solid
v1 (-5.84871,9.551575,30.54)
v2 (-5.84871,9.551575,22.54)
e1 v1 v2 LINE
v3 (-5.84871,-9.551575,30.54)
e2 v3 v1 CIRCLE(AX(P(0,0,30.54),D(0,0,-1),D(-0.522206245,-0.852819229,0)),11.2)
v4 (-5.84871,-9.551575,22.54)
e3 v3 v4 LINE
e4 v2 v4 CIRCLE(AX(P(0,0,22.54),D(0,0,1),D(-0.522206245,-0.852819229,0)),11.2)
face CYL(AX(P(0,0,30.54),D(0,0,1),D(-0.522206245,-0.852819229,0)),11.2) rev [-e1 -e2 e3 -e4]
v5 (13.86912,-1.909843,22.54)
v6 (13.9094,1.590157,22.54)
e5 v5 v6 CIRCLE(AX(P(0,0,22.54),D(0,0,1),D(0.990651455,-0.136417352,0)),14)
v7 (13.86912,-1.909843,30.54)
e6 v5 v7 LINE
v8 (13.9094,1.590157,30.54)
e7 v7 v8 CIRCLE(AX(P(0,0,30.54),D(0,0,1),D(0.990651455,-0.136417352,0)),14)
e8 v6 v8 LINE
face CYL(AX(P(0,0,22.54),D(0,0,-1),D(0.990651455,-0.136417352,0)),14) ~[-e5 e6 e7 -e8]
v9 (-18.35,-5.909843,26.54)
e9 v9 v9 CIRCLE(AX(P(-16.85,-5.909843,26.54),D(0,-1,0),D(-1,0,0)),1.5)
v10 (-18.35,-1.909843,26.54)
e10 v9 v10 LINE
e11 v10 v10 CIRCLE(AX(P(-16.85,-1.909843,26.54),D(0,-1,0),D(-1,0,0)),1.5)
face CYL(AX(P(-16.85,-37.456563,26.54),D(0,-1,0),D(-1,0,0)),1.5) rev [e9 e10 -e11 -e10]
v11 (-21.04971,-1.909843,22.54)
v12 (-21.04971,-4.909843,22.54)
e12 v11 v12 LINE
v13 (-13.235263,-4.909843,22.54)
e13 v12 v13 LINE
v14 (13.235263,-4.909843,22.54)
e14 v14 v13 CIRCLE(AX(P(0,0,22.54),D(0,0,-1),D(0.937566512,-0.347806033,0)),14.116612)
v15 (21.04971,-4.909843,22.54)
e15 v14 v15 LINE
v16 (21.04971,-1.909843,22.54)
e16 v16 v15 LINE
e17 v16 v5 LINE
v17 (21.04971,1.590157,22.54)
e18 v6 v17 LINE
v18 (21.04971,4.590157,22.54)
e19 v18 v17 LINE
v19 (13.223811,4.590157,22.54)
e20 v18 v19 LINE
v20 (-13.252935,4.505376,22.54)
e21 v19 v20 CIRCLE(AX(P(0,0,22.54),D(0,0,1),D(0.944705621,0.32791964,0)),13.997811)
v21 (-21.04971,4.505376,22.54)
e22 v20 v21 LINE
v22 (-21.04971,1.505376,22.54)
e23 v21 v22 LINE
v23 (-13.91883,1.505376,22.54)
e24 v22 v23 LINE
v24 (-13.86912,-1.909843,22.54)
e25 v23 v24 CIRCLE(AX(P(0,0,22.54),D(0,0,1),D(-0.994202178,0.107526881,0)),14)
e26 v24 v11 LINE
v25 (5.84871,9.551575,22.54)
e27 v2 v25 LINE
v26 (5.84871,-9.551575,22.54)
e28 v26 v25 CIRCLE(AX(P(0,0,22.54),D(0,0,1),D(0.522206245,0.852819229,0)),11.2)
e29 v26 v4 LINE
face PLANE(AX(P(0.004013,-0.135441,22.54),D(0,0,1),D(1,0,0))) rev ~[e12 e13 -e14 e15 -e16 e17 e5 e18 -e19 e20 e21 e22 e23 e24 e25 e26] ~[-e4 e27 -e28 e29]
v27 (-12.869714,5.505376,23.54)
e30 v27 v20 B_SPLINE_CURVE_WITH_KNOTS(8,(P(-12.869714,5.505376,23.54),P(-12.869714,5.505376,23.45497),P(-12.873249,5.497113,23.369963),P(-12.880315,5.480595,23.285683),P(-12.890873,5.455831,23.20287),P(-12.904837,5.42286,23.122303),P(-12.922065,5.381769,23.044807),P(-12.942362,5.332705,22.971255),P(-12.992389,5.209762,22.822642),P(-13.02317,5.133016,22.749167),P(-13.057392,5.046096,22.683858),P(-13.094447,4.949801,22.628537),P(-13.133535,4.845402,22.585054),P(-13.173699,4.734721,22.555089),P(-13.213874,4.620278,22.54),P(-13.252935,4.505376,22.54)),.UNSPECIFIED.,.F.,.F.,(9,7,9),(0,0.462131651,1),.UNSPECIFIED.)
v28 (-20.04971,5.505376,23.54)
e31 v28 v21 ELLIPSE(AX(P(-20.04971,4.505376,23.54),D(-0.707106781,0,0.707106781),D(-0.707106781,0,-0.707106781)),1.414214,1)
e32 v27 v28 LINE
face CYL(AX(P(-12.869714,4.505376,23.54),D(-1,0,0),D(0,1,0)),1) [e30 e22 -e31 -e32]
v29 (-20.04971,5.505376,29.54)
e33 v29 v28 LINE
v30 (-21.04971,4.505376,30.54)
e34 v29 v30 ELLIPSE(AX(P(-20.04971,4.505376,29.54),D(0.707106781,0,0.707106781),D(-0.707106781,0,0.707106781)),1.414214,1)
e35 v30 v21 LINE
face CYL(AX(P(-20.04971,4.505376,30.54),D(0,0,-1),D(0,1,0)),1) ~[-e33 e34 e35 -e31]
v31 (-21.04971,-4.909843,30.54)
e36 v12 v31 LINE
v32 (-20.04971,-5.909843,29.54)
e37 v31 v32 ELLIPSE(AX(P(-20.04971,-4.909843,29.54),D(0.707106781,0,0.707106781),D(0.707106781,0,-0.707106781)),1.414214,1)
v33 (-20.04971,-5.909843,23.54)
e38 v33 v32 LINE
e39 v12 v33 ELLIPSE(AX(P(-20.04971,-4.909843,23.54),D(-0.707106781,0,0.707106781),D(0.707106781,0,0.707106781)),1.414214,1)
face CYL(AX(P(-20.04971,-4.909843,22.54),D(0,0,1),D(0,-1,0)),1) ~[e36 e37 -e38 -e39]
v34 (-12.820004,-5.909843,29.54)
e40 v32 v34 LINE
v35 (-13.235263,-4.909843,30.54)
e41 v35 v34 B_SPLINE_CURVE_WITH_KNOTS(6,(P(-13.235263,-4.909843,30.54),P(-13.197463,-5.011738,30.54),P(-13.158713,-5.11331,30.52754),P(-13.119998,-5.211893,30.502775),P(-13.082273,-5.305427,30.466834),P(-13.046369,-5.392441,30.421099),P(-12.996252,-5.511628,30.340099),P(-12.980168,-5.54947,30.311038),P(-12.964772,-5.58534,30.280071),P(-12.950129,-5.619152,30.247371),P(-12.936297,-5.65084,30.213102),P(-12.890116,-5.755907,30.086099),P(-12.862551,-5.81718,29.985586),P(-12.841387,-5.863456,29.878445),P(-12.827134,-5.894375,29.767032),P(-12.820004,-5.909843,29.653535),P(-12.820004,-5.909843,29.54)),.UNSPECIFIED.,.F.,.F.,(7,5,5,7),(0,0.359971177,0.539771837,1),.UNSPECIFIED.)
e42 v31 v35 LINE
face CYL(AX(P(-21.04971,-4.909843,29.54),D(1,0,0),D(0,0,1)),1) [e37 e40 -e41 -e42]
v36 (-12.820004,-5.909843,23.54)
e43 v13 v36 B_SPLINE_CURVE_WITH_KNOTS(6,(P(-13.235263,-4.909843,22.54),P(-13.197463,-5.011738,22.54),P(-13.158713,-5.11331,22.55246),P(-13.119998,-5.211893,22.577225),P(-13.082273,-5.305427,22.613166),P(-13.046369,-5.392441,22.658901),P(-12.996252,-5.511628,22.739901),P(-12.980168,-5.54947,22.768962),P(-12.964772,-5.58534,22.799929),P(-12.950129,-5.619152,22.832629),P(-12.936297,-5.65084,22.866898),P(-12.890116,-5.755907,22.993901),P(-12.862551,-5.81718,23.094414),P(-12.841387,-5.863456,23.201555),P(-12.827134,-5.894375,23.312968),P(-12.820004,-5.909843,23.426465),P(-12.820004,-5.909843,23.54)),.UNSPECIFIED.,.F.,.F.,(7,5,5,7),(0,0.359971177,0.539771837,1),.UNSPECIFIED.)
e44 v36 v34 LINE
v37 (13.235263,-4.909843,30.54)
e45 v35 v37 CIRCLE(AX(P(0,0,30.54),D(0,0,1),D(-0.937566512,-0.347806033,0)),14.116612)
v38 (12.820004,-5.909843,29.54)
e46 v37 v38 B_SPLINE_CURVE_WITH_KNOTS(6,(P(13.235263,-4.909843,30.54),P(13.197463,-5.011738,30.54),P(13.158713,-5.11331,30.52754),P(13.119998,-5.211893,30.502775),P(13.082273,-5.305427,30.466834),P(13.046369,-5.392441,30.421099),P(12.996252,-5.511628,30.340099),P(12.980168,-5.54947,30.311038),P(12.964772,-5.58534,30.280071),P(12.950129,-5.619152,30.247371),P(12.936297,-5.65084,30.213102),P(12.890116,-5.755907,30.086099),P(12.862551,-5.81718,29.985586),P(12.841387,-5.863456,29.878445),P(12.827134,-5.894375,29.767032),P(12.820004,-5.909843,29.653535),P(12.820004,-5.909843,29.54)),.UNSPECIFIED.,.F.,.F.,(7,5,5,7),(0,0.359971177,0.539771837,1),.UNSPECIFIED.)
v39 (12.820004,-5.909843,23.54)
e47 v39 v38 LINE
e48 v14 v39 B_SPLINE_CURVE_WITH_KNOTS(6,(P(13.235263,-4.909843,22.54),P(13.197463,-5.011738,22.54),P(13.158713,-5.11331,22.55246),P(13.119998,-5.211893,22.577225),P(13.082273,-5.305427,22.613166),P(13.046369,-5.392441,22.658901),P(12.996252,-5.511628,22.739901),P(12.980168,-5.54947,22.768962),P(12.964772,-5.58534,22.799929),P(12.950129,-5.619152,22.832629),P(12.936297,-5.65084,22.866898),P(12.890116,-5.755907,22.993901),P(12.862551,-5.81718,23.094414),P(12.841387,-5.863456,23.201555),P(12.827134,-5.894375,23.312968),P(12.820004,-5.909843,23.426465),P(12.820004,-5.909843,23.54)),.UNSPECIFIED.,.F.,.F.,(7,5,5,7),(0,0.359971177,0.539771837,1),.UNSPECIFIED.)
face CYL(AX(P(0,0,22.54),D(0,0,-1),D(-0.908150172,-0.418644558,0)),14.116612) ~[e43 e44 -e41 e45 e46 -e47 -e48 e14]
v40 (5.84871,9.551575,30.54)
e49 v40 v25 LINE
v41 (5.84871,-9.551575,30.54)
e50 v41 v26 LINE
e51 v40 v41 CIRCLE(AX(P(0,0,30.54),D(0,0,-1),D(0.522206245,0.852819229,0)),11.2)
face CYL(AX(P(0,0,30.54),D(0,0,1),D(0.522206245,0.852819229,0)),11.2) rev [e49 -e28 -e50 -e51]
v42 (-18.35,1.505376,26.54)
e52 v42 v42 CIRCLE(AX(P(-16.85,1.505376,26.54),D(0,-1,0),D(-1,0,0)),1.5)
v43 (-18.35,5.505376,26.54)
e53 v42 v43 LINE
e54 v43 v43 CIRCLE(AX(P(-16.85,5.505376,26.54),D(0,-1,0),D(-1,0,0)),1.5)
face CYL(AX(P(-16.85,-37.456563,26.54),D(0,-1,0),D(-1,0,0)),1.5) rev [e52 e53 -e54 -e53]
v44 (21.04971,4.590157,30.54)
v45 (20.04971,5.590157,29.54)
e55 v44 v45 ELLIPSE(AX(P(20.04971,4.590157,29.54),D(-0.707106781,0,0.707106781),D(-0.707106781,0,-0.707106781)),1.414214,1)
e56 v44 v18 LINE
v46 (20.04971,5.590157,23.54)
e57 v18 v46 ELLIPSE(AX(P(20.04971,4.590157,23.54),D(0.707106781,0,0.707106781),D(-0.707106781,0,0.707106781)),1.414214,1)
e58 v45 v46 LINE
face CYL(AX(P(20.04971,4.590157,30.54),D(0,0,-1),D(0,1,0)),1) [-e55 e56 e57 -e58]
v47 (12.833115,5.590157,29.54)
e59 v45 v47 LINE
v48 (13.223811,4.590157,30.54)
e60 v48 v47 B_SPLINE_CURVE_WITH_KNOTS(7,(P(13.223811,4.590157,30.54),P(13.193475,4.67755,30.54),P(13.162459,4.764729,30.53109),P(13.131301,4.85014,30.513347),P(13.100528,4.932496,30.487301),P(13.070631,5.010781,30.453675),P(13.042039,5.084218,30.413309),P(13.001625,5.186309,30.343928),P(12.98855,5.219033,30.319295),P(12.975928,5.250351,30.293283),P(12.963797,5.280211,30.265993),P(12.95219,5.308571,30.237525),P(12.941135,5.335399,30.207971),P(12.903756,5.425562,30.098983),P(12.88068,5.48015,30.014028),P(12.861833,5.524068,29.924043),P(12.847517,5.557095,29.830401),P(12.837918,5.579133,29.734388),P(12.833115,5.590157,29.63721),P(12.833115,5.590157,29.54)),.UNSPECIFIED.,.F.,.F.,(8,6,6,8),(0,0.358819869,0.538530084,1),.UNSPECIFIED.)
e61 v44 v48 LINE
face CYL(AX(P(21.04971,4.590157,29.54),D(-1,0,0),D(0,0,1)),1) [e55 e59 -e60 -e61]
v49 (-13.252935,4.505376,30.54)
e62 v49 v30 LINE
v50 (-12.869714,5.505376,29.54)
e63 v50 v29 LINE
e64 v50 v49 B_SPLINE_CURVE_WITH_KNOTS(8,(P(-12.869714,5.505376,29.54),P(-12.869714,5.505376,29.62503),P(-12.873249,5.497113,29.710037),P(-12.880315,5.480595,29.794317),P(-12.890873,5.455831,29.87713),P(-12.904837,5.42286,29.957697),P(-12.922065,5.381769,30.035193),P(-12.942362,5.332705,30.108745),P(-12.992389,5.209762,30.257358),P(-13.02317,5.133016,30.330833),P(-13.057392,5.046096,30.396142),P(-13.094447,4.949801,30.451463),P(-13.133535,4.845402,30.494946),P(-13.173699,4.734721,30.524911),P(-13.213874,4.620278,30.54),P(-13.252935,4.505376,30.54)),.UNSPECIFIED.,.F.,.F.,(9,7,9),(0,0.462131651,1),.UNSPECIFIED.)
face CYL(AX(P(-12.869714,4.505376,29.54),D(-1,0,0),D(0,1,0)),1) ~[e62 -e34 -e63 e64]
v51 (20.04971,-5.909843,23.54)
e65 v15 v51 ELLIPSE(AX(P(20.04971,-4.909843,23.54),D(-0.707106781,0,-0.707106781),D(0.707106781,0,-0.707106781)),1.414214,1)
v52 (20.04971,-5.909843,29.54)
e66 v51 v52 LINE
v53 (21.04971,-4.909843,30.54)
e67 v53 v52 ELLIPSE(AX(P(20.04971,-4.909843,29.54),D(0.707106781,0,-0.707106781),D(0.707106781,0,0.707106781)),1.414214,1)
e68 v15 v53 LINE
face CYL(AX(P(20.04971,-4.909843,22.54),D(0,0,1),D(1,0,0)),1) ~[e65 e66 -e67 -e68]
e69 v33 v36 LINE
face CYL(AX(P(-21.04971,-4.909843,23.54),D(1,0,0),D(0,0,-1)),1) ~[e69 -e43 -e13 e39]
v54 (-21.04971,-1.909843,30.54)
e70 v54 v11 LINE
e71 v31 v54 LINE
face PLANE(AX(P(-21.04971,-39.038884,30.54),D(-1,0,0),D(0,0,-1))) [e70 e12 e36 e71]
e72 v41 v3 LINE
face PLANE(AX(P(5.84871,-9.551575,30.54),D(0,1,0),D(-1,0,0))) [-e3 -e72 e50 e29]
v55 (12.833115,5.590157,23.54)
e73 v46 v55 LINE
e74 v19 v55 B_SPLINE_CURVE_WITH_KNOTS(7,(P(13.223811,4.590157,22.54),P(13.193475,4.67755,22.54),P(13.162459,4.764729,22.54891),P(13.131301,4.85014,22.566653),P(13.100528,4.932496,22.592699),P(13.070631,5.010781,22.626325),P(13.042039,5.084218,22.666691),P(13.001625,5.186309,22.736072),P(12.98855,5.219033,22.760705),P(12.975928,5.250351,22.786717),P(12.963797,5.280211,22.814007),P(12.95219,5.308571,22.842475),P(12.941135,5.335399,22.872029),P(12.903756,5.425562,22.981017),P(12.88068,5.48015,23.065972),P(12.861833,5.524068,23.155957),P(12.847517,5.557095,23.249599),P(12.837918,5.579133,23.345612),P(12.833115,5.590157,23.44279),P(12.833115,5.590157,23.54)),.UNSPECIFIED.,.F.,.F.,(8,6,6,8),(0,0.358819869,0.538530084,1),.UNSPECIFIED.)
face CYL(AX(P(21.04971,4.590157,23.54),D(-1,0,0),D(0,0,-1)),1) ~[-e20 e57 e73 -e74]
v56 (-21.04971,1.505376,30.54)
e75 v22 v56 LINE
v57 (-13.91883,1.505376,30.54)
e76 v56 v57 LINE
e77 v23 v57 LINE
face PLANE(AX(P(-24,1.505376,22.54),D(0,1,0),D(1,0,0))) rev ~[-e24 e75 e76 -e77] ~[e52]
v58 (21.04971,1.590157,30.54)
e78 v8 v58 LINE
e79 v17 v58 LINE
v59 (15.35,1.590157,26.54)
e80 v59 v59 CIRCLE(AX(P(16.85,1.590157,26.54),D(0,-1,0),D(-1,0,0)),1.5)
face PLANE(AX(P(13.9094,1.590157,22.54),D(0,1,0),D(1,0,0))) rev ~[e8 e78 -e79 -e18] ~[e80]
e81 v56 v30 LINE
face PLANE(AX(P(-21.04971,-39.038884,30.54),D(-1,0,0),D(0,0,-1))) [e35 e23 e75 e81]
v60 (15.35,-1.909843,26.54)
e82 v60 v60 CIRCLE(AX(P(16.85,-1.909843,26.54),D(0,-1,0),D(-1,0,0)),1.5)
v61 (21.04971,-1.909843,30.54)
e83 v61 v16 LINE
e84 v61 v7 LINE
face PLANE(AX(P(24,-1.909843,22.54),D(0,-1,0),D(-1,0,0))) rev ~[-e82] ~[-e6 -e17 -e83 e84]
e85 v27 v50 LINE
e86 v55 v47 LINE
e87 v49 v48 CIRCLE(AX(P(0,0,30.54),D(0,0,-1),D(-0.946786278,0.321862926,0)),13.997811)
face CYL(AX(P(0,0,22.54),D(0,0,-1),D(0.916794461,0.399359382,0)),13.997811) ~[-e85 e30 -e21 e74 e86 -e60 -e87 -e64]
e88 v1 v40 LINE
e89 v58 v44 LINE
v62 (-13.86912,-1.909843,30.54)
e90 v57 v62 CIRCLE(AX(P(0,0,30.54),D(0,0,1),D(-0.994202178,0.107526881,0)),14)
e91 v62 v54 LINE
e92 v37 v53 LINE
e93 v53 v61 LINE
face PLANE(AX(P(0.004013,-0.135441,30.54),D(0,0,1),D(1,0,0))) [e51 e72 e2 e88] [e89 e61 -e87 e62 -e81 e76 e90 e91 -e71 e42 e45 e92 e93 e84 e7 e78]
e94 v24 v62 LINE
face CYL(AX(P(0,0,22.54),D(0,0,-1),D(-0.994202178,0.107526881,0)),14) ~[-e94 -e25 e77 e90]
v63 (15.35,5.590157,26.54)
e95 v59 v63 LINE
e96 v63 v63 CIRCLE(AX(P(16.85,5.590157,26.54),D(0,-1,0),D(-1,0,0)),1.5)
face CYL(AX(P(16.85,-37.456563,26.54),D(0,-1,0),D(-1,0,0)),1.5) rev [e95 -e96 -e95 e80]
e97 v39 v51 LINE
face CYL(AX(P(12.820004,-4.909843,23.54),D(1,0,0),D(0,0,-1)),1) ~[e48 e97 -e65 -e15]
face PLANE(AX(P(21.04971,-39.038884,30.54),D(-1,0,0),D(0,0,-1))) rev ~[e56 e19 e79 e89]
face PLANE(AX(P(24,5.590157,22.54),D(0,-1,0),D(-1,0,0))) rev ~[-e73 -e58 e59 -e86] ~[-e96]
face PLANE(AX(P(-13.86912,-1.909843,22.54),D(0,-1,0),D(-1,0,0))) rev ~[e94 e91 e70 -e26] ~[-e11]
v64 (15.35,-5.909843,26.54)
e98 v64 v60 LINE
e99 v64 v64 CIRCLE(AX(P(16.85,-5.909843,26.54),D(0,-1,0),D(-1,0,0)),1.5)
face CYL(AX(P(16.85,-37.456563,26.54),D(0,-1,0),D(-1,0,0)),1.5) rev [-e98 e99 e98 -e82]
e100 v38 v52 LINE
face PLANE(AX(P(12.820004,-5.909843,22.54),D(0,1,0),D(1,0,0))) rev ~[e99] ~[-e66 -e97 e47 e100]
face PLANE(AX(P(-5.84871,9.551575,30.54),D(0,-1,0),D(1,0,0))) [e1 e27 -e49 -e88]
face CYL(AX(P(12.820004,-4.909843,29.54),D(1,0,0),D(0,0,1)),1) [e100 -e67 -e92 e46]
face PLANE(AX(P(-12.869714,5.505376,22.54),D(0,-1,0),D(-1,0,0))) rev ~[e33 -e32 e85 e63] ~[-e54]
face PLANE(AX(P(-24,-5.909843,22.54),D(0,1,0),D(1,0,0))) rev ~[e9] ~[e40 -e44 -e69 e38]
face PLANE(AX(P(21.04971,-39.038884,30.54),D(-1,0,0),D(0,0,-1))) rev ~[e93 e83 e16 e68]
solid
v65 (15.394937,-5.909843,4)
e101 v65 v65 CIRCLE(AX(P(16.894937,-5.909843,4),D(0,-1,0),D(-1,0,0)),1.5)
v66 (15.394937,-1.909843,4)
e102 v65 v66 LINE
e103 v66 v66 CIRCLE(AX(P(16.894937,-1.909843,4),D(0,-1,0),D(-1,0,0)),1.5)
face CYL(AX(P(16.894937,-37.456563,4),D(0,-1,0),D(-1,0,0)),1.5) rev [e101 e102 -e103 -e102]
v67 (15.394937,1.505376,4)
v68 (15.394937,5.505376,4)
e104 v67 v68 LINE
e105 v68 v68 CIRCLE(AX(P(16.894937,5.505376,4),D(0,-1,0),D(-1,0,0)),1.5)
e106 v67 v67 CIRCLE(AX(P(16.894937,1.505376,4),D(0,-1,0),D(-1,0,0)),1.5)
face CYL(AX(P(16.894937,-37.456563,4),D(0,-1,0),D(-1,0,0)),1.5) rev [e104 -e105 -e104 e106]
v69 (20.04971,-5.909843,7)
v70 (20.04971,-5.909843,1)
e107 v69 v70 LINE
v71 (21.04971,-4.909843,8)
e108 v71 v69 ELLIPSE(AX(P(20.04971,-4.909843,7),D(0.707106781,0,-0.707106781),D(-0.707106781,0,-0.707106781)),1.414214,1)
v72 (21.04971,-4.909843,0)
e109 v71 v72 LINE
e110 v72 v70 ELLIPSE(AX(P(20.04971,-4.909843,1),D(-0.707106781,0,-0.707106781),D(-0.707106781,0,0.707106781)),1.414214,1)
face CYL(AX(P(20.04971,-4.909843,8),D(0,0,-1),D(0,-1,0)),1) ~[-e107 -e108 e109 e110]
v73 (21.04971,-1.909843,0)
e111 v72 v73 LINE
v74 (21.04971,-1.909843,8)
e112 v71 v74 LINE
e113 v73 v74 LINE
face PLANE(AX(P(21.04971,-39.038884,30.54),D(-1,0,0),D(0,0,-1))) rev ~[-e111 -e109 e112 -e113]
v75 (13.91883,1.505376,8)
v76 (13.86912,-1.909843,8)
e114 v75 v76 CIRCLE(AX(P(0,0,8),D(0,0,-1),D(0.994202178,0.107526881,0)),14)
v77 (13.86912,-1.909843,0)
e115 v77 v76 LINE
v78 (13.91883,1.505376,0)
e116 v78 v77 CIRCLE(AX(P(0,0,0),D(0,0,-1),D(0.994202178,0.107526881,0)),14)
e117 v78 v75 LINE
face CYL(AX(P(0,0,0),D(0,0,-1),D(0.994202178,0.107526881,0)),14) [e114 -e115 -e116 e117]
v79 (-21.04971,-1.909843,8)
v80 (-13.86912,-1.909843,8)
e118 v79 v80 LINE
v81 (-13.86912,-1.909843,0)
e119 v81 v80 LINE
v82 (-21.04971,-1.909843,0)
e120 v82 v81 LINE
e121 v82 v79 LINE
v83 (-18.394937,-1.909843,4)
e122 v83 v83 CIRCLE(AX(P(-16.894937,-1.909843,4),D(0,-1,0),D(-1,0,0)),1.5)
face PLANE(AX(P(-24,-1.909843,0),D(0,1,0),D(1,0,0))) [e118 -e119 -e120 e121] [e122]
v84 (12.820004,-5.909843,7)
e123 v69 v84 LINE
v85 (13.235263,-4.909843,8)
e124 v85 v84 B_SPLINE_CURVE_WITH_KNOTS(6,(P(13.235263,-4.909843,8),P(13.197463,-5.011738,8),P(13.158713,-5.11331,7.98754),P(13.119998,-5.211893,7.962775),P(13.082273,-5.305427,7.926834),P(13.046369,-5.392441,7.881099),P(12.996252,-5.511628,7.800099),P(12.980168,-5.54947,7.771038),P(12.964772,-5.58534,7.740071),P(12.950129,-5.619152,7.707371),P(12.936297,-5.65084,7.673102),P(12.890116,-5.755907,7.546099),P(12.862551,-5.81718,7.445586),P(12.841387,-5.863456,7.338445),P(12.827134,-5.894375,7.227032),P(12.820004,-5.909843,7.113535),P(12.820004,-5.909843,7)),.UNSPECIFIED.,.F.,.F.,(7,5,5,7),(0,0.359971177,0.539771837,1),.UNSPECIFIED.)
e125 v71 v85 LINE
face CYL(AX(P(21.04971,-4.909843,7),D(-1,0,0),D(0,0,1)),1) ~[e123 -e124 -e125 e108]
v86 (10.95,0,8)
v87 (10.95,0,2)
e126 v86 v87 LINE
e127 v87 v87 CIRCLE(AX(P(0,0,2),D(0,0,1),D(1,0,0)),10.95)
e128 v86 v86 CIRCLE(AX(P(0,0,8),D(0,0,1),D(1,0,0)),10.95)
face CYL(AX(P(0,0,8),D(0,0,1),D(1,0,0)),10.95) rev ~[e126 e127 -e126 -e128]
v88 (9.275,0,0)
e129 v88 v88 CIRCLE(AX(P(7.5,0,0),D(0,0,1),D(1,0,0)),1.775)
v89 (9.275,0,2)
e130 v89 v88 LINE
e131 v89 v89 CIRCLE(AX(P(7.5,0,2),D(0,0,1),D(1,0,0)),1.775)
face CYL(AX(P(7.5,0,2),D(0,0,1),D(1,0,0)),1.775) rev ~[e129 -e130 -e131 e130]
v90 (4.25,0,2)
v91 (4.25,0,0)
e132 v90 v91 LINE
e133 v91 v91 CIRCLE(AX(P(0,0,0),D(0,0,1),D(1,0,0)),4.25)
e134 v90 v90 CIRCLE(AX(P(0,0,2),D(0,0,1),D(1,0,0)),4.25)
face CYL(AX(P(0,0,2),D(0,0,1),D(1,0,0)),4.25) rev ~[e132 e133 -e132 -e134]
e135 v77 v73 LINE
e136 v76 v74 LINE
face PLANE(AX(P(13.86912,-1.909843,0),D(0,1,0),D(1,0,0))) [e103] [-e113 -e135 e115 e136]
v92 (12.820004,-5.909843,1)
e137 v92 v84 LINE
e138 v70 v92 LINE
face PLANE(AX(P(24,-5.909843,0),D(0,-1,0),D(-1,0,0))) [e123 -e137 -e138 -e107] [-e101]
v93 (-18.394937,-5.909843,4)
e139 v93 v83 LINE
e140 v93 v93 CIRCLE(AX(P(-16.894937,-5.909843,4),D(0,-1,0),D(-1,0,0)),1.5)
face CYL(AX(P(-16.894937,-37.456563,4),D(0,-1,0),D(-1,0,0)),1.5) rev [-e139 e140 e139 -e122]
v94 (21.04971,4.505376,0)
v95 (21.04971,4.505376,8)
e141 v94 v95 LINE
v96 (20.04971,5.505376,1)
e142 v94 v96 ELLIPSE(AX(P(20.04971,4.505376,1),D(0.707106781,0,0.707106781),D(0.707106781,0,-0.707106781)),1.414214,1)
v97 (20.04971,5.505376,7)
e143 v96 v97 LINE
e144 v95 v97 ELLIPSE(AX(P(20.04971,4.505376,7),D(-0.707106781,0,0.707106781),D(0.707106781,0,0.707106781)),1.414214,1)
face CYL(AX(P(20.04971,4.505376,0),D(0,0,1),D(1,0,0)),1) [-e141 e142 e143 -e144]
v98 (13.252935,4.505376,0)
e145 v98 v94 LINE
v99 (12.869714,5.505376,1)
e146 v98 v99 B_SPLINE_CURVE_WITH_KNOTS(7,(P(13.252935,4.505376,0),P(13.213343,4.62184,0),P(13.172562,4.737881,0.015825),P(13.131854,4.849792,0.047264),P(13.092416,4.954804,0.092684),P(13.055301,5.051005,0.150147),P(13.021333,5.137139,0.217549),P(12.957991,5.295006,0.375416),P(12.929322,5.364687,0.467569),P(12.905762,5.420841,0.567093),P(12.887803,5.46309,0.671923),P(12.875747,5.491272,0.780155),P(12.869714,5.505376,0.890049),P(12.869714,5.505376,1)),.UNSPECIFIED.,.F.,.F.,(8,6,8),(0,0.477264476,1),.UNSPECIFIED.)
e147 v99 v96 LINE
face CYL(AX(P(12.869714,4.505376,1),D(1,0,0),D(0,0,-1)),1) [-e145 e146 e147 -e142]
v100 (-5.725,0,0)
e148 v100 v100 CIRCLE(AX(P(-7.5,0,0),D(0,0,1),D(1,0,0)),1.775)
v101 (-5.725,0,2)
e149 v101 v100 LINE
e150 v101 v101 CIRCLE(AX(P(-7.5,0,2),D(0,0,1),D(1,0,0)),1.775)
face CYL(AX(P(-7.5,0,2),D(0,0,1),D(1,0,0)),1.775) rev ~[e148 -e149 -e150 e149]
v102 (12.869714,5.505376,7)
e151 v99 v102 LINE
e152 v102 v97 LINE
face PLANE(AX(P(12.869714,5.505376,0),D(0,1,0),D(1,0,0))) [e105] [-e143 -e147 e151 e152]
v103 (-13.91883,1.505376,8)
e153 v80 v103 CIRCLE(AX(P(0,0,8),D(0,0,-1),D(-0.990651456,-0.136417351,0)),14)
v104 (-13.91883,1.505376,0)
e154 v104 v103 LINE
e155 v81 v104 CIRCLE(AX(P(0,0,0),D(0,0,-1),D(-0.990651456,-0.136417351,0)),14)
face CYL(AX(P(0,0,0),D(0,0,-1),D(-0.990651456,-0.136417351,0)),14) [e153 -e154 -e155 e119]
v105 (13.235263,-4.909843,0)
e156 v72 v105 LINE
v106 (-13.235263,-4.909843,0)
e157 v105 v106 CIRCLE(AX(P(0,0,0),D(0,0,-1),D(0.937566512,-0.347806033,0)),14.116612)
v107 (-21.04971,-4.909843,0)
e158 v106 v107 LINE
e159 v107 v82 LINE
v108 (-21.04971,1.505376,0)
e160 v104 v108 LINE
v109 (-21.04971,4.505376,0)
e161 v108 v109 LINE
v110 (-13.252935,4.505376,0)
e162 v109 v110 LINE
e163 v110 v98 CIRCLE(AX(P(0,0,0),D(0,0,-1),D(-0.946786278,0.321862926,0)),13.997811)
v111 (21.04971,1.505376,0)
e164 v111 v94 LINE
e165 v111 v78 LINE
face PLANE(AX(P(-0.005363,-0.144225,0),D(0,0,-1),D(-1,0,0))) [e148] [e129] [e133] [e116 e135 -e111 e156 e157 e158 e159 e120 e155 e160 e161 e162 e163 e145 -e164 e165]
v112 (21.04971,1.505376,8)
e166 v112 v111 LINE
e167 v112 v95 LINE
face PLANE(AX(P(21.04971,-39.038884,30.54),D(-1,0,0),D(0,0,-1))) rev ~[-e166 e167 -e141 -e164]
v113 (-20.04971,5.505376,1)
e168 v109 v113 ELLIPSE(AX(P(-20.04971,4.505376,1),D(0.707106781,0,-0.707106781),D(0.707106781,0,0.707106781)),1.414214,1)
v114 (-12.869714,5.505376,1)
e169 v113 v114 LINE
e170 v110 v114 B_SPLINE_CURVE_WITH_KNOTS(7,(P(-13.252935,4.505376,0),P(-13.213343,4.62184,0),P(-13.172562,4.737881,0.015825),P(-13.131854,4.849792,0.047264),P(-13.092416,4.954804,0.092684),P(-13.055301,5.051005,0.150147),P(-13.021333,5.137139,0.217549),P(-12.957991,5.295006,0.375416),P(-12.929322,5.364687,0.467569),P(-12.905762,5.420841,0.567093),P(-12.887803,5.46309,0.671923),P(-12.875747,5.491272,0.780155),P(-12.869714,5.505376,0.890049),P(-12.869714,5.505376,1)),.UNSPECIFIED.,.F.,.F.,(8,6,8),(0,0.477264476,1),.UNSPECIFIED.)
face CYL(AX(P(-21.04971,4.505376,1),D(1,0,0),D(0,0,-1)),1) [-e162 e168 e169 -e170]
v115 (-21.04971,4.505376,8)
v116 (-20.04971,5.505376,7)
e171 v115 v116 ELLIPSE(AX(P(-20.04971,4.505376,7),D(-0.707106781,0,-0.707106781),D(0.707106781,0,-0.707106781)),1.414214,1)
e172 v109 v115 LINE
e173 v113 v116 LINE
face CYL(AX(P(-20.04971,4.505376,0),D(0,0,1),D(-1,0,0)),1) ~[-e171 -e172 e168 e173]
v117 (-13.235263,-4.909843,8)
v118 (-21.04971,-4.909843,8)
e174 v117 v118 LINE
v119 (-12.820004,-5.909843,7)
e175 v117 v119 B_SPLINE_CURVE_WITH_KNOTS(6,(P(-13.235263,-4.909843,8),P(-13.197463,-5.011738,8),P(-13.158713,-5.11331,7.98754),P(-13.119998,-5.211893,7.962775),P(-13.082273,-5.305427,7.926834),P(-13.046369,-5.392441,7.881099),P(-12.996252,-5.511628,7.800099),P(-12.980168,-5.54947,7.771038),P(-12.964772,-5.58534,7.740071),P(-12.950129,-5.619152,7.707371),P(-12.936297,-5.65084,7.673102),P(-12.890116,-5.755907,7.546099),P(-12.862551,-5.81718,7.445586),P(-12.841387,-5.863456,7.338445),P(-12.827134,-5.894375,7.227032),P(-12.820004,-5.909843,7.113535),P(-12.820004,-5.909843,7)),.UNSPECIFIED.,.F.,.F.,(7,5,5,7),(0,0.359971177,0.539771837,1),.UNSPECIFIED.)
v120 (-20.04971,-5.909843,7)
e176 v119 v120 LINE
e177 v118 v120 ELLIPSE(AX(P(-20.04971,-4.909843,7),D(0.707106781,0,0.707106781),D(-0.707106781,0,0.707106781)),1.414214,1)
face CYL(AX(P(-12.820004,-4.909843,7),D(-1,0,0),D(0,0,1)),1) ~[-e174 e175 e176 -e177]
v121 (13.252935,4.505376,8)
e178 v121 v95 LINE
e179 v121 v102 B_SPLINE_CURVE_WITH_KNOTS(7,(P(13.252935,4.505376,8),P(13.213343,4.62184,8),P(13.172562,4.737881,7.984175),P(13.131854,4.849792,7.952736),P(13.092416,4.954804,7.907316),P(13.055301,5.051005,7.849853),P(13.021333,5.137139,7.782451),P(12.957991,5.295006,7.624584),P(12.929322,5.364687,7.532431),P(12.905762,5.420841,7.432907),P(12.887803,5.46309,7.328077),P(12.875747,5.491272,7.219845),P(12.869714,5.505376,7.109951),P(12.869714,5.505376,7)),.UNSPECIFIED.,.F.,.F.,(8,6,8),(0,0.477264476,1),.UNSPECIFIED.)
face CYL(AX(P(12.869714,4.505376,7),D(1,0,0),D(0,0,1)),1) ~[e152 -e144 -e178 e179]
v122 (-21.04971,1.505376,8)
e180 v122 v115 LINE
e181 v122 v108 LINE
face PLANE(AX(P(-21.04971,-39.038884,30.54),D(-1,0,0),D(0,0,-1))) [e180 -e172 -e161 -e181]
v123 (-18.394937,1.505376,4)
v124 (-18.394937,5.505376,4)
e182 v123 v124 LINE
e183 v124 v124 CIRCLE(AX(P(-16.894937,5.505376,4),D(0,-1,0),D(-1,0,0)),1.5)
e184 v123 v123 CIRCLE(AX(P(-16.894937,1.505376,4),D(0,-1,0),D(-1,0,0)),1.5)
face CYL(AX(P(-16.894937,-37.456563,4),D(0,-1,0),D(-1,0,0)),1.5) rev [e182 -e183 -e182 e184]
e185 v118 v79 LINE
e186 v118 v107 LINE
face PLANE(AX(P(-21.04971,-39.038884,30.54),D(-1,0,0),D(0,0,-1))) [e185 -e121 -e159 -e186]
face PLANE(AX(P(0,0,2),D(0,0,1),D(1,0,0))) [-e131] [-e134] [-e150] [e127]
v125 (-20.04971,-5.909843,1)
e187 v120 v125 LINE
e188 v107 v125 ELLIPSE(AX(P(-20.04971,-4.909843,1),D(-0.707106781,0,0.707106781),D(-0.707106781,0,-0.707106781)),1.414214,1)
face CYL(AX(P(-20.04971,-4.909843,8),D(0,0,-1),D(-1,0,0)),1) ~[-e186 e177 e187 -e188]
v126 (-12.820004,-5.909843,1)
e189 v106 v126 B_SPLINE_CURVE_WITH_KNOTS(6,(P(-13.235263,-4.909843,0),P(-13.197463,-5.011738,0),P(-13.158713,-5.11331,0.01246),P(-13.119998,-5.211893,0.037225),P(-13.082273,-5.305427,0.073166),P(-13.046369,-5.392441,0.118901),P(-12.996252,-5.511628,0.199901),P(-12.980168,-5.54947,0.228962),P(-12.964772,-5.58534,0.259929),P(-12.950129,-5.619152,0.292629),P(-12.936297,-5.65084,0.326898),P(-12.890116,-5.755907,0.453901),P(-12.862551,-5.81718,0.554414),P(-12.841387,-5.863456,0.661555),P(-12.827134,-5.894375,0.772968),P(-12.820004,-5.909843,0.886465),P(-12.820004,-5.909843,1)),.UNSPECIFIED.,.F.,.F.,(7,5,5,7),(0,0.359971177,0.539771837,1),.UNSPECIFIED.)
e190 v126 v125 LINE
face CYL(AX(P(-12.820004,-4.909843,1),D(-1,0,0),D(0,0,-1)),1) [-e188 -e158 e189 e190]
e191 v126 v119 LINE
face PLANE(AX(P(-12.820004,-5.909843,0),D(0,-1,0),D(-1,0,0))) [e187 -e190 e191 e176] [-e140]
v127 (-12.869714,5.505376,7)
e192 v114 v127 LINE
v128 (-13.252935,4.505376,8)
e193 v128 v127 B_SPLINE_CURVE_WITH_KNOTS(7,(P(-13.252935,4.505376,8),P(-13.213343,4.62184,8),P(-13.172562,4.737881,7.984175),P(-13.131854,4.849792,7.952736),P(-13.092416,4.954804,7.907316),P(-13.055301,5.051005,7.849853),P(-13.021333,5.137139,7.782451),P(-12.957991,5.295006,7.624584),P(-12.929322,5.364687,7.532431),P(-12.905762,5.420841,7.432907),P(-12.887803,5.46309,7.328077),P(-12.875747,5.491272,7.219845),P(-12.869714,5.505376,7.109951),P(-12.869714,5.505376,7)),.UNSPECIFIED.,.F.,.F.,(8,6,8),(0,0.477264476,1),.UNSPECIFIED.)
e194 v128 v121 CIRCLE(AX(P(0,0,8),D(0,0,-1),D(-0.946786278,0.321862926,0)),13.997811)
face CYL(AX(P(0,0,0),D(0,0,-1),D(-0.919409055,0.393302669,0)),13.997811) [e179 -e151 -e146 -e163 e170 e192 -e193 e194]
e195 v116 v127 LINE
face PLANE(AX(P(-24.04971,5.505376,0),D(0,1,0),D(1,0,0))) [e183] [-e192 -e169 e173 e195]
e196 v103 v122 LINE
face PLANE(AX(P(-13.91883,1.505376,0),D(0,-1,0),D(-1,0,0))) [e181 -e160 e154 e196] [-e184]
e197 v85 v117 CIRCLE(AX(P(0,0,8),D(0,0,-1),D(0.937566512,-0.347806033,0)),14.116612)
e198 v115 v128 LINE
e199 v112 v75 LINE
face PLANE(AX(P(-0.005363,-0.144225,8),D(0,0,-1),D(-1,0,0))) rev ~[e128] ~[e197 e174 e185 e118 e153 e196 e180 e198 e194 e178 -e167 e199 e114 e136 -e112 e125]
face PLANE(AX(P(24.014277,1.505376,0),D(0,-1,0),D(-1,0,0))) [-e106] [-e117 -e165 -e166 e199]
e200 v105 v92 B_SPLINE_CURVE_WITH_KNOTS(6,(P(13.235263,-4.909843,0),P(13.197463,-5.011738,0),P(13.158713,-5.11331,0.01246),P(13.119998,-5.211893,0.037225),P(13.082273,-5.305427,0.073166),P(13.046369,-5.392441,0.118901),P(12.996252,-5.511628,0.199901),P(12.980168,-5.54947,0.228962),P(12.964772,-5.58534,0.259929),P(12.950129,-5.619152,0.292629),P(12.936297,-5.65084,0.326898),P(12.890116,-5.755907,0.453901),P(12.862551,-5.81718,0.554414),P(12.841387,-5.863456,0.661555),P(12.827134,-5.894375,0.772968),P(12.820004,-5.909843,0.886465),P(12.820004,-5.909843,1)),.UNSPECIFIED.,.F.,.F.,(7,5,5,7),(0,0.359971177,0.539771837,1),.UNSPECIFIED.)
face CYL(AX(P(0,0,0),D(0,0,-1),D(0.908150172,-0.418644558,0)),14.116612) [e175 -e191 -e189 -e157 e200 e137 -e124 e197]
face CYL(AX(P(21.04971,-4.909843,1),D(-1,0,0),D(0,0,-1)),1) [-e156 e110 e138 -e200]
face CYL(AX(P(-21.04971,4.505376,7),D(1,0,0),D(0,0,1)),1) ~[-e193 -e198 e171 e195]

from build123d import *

# Parameters (mm, degrees)
SALIENTE_EXTRUIR1_DEPTH     = 8
CROQUIS2_R                  = 10.95
CORTAR_EXTRUIR1_DEPTH       = 6
CROQUIS3_R                  = 4.25
CROQUIS3_R_2                = 1.775
CORTAR_EXTRUIR2_DEPTH       = 3.5
SALIENTE_EXTRUIR3_DEPTH     = 8
CORTAR_EXTRUIR8_DEPTH       = 10
CORTAR_EXTRUIR9_DEPTH       = 44.54426019
CORTAR_EXTRUIR9_DEPTH_BACK  = 44.54426019
CROQUIS11_W                 = 3
CROQUIS11_H                 = 30.54
CORTAR_EXTRUIR10_DEPTH      = 42.961939121
CORTAR_EXTRUIR10_DEPTH_BACK = 42.961939121
CROQUIS8_R                  = 1.5
REDONDEO1_R                 = 1
REDONDEO2_R                 = 1


with BuildPart() as part:
    # Croquis1 → Saliente-Extruir1 (new body)
    with BuildSketch(Plane.XY):
        with BuildLine():
            Line((-13.918830485, 1.505376344), (-24.049710109, 1.505376344))
            Line((-24.049710109, 1.505376344), (-24.049710109, 5.505376344))
            Line((-24.049710109, 5.505376344), (-12.869714009, 5.505376344))
            ThreePointArc((-12.869714009, 5.505376344), (0, 13.997810806), (12.869714009, 5.505376344))
            Line((12.869714009, 5.505376344), (24.049710109, 5.505376344))
            Line((24.049710109, 5.505376344), (24.014276756, 1.505376344))
            Line((24.014276756, 1.505376344), (13.918830485, 1.505376344))
            ThreePointArc((13.918830485, 1.505376344), (13.998517204, -0.203754945), (13.869120376, -1.909842925))
            Line((13.869120376, -1.909842925), (24, -1.909842925))
            Line((24, -1.909842925), (24, -5.909842925))
            Line((24, -5.909842925), (12.8200039, -5.909842925))
            ThreePointArc((12.8200039, -5.909842925), (0, -14.11661232), (-12.8200039, -5.909842925))
            Line((-12.8200039, -5.909842925), (-24, -5.909842925))
            Line((-24, -5.909842925), (-24, -1.909842925))
            Line((-24, -1.909842925), (-13.869120376, -1.909842925))
            ThreePointArc((-13.869120376, -1.909842925), (-13.998517204, -0.203754945), (-13.918830485, 1.505376344))
        make_face()
    extrude(amount=SALIENTE_EXTRUIR1_DEPTH)

    # Croquis2 → Cortar-Extruir1 (cut)
    with BuildSketch(Plane.XY.offset(8)):
        Circle(CROQUIS2_R)
    extrude(amount=-CORTAR_EXTRUIR1_DEPTH, mode=Mode.SUBTRACT)

    # Croquis3 → Cortar-Extruir2 (cut)
    with BuildSketch(Plane.XY.offset(2)):
        Circle(CROQUIS3_R)
        with Locations((-7.5, 0)):
            Circle(CROQUIS3_R_2)
        with Locations((7.5, 0)):
            Circle(CROQUIS3_R_2)
    extrude(amount=-CORTAR_EXTRUIR2_DEPTH, mode=Mode.SUBTRACT)


with BuildPart() as body_2:
    # Croquis6 → Saliente-Extruir3 (new body)
    with BuildSketch(Plane.XY.offset(22.54)):
        with BuildLine():
            Line((-12.869714009, 5.505376344), (-24, 5.505376344))
            Line((-24, 5.505376344), (-24, 1.505376344))
            Line((-24, 1.505376344), (-13.918830485, 1.505376344))
            ThreePointArc((-13.918830485, 1.505376344), (-13.998517204, -0.203754945), (-13.869120376, -1.909842925))
            Line((-13.869120376, -1.909842925), (-24, -1.909842925))
            Line((-24, -1.909842925), (-24, -5.909842925))
            Line((-24, -5.909842925), (-12.8200039, -5.909842925))
            ThreePointArc((-12.8200039, -5.909842925), (0, -14.11661232), (12.8200039, -5.909842925))
            Line((12.8200039, -5.909842925), (24, -5.909842925))
            Line((24, -5.909842925), (24, -1.909842925))
            Line((24, -1.909842925), (13.869120376, -1.909842925))
            ThreePointArc((13.869120376, -1.909842925), (13.999072992, -0.161106695), (13.909399717, 1.590157075))
            Line((13.909399717, 1.590157075), (24, 1.590157075))
            Line((24, 1.590157075), (24, 5.590157075))
            Line((24, 5.590157075), (12.833115415, 5.590157075))
            ThreePointArc((12.833115415, 5.590157075), (-0.046171499, 13.997734658), (-12.869714009, 5.505376344))
        make_face()
    extrude(amount=SALIENTE_EXTRUIR3_DEPTH)

    # Croquis7 → Cortar-Extruir8 (cut)
    with BuildSketch(Plane.XY.offset(30.54)):
        with BuildLine():
            Line((-5.848709946, 9.551575366), (5.848709946, 9.551575366))
            ThreePointArc((5.848709946, 9.551575366), (11.2, 0), (5.848709946, -9.551575366))
            Line((5.848709946, -9.551575366), (-5.848709946, -9.551575366))
            ThreePointArc((-5.848709946, -9.551575366), (-11.2, 0), (-5.848709946, 9.551575366))
        make_face()
    extrude(amount=-CORTAR_EXTRUIR8_DEPTH, mode=Mode.SUBTRACT)


with BuildPart() as cortar_extruir9_tool:
    # Croquis11 → Cortar-Extruir9 (new, two sides: drawn at the far end of the back side and taken through both)
    with BuildSketch(Plane(origin=(0, 5.505376344, 0), x_dir=(1, 0, 0), z_dir=(0, 1, 0)).offset(-CORTAR_EXTRUIR9_DEPTH_BACK)):
        with Locations((-22.549710109, -15.27)):
            Rectangle(CROQUIS11_W, CROQUIS11_H)
        with Locations((22.549710109, -15.27)):
            Rectangle(CROQUIS11_W, CROQUIS11_H)
    extrude(amount=CORTAR_EXTRUIR9_DEPTH + CORTAR_EXTRUIR9_DEPTH_BACK)


with BuildPart() as part_1:
    add(part.part)

    # Cortar-Extruir9: cut by cortar_extruir9_tool
    add(cortar_extruir9_tool.part, mode=Mode.SUBTRACT)


with BuildPart() as body_2_1:
    add(body_2.part)

    # Cortar-Extruir9: cut by cortar_extruir9_tool
    add(cortar_extruir9_tool.part, mode=Mode.SUBTRACT)


with BuildPart() as cortar_extruir10_tool:
    # Croquis8 → Cortar-Extruir10 (new, two sides: drawn at the far end of the back side and taken through both)
    with BuildSketch(Plane(origin=(0, 5.505376344, 0), x_dir=(1, 0, 0), z_dir=(0, 1, 0)).offset(-CORTAR_EXTRUIR10_DEPTH_BACK)):
        with Locations(Location((16.85, -26.54, 0), (0, 0, 180))):
            Circle(CROQUIS8_R)
        with Locations(Location((16.894937141, -4, 0), (0, 0, 180))):
            Circle(CROQUIS8_R)
        with Locations(Location((-16.894937141, -4, 0), (0, 0, 180))):
            Circle(CROQUIS8_R)
        with Locations(Location((-16.85, -26.54, 0), (0, 0, 180))):
            Circle(CROQUIS8_R)
    extrude(amount=CORTAR_EXTRUIR10_DEPTH + CORTAR_EXTRUIR10_DEPTH_BACK)


with BuildPart() as part_2:
    add(part_1.part)

    # Cortar-Extruir10: cut by cortar_extruir10_tool
    add(cortar_extruir10_tool.part, mode=Mode.SUBTRACT)

    # Redondeo1
    redondeo1_edges = [part_2.edges().sort_by_distance(p)[0] for p in [
        (16.934857005, -5.909842925, 0),
        (-16.959712059, 5.505376344, 0),
        (16.934857005, -5.909842925, 8),
        (16.959712059, 5.505376344, 0),
        (-16.934857005, -5.909842925, 0),
        (-16.959712059, 5.505376344, 8),
        (-16.934857005, -5.909842925, 8),
        (16.959712059, 5.505376344, 8),
        (-21.049710109, -5.909842925, 4),
        (-21.049710109, 5.505376344, 4),
        (21.049710109, 5.505376344, 4),
        (21.049710109, -5.909842925, 4),
    ]]
    fillet(redondeo1_edges, radius=REDONDEO1_R)


with BuildPart() as body_2_2:
    add(body_2_1.part)

    # Cortar-Extruir10: cut by cortar_extruir10_tool
    add(cortar_extruir10_tool.part, mode=Mode.SUBTRACT)

    # Redondeo2
    redondeo2_edges = [body_2_2.edges().sort_by_distance(p)[0] for p in [
        (16.934857005, -5.909842925, 22.54),
        (-16.959712059, 5.505376344, 22.54),
        (16.934857005, -5.909842925, 30.54),
        (16.941412762, 5.590157075, 22.54),
        (-16.934857005, -5.909842925, 22.54),
        (-16.959712059, 5.505376344, 30.54),
        (-16.934857005, -5.909842925, 30.54),
        (16.941412762, 5.590157075, 30.54),
        (-21.049710109, -5.909842925, 26.54),
        (-21.049710109, 5.505376344, 26.54),
        (21.049710109, 5.590157075, 26.54),
        (21.049710109, -5.909842925, 26.54),
    ]]
    fillet(redondeo2_edges, radius=REDONDEO2_R)


solid = Compound([part_2.part, body_2_2.part])
